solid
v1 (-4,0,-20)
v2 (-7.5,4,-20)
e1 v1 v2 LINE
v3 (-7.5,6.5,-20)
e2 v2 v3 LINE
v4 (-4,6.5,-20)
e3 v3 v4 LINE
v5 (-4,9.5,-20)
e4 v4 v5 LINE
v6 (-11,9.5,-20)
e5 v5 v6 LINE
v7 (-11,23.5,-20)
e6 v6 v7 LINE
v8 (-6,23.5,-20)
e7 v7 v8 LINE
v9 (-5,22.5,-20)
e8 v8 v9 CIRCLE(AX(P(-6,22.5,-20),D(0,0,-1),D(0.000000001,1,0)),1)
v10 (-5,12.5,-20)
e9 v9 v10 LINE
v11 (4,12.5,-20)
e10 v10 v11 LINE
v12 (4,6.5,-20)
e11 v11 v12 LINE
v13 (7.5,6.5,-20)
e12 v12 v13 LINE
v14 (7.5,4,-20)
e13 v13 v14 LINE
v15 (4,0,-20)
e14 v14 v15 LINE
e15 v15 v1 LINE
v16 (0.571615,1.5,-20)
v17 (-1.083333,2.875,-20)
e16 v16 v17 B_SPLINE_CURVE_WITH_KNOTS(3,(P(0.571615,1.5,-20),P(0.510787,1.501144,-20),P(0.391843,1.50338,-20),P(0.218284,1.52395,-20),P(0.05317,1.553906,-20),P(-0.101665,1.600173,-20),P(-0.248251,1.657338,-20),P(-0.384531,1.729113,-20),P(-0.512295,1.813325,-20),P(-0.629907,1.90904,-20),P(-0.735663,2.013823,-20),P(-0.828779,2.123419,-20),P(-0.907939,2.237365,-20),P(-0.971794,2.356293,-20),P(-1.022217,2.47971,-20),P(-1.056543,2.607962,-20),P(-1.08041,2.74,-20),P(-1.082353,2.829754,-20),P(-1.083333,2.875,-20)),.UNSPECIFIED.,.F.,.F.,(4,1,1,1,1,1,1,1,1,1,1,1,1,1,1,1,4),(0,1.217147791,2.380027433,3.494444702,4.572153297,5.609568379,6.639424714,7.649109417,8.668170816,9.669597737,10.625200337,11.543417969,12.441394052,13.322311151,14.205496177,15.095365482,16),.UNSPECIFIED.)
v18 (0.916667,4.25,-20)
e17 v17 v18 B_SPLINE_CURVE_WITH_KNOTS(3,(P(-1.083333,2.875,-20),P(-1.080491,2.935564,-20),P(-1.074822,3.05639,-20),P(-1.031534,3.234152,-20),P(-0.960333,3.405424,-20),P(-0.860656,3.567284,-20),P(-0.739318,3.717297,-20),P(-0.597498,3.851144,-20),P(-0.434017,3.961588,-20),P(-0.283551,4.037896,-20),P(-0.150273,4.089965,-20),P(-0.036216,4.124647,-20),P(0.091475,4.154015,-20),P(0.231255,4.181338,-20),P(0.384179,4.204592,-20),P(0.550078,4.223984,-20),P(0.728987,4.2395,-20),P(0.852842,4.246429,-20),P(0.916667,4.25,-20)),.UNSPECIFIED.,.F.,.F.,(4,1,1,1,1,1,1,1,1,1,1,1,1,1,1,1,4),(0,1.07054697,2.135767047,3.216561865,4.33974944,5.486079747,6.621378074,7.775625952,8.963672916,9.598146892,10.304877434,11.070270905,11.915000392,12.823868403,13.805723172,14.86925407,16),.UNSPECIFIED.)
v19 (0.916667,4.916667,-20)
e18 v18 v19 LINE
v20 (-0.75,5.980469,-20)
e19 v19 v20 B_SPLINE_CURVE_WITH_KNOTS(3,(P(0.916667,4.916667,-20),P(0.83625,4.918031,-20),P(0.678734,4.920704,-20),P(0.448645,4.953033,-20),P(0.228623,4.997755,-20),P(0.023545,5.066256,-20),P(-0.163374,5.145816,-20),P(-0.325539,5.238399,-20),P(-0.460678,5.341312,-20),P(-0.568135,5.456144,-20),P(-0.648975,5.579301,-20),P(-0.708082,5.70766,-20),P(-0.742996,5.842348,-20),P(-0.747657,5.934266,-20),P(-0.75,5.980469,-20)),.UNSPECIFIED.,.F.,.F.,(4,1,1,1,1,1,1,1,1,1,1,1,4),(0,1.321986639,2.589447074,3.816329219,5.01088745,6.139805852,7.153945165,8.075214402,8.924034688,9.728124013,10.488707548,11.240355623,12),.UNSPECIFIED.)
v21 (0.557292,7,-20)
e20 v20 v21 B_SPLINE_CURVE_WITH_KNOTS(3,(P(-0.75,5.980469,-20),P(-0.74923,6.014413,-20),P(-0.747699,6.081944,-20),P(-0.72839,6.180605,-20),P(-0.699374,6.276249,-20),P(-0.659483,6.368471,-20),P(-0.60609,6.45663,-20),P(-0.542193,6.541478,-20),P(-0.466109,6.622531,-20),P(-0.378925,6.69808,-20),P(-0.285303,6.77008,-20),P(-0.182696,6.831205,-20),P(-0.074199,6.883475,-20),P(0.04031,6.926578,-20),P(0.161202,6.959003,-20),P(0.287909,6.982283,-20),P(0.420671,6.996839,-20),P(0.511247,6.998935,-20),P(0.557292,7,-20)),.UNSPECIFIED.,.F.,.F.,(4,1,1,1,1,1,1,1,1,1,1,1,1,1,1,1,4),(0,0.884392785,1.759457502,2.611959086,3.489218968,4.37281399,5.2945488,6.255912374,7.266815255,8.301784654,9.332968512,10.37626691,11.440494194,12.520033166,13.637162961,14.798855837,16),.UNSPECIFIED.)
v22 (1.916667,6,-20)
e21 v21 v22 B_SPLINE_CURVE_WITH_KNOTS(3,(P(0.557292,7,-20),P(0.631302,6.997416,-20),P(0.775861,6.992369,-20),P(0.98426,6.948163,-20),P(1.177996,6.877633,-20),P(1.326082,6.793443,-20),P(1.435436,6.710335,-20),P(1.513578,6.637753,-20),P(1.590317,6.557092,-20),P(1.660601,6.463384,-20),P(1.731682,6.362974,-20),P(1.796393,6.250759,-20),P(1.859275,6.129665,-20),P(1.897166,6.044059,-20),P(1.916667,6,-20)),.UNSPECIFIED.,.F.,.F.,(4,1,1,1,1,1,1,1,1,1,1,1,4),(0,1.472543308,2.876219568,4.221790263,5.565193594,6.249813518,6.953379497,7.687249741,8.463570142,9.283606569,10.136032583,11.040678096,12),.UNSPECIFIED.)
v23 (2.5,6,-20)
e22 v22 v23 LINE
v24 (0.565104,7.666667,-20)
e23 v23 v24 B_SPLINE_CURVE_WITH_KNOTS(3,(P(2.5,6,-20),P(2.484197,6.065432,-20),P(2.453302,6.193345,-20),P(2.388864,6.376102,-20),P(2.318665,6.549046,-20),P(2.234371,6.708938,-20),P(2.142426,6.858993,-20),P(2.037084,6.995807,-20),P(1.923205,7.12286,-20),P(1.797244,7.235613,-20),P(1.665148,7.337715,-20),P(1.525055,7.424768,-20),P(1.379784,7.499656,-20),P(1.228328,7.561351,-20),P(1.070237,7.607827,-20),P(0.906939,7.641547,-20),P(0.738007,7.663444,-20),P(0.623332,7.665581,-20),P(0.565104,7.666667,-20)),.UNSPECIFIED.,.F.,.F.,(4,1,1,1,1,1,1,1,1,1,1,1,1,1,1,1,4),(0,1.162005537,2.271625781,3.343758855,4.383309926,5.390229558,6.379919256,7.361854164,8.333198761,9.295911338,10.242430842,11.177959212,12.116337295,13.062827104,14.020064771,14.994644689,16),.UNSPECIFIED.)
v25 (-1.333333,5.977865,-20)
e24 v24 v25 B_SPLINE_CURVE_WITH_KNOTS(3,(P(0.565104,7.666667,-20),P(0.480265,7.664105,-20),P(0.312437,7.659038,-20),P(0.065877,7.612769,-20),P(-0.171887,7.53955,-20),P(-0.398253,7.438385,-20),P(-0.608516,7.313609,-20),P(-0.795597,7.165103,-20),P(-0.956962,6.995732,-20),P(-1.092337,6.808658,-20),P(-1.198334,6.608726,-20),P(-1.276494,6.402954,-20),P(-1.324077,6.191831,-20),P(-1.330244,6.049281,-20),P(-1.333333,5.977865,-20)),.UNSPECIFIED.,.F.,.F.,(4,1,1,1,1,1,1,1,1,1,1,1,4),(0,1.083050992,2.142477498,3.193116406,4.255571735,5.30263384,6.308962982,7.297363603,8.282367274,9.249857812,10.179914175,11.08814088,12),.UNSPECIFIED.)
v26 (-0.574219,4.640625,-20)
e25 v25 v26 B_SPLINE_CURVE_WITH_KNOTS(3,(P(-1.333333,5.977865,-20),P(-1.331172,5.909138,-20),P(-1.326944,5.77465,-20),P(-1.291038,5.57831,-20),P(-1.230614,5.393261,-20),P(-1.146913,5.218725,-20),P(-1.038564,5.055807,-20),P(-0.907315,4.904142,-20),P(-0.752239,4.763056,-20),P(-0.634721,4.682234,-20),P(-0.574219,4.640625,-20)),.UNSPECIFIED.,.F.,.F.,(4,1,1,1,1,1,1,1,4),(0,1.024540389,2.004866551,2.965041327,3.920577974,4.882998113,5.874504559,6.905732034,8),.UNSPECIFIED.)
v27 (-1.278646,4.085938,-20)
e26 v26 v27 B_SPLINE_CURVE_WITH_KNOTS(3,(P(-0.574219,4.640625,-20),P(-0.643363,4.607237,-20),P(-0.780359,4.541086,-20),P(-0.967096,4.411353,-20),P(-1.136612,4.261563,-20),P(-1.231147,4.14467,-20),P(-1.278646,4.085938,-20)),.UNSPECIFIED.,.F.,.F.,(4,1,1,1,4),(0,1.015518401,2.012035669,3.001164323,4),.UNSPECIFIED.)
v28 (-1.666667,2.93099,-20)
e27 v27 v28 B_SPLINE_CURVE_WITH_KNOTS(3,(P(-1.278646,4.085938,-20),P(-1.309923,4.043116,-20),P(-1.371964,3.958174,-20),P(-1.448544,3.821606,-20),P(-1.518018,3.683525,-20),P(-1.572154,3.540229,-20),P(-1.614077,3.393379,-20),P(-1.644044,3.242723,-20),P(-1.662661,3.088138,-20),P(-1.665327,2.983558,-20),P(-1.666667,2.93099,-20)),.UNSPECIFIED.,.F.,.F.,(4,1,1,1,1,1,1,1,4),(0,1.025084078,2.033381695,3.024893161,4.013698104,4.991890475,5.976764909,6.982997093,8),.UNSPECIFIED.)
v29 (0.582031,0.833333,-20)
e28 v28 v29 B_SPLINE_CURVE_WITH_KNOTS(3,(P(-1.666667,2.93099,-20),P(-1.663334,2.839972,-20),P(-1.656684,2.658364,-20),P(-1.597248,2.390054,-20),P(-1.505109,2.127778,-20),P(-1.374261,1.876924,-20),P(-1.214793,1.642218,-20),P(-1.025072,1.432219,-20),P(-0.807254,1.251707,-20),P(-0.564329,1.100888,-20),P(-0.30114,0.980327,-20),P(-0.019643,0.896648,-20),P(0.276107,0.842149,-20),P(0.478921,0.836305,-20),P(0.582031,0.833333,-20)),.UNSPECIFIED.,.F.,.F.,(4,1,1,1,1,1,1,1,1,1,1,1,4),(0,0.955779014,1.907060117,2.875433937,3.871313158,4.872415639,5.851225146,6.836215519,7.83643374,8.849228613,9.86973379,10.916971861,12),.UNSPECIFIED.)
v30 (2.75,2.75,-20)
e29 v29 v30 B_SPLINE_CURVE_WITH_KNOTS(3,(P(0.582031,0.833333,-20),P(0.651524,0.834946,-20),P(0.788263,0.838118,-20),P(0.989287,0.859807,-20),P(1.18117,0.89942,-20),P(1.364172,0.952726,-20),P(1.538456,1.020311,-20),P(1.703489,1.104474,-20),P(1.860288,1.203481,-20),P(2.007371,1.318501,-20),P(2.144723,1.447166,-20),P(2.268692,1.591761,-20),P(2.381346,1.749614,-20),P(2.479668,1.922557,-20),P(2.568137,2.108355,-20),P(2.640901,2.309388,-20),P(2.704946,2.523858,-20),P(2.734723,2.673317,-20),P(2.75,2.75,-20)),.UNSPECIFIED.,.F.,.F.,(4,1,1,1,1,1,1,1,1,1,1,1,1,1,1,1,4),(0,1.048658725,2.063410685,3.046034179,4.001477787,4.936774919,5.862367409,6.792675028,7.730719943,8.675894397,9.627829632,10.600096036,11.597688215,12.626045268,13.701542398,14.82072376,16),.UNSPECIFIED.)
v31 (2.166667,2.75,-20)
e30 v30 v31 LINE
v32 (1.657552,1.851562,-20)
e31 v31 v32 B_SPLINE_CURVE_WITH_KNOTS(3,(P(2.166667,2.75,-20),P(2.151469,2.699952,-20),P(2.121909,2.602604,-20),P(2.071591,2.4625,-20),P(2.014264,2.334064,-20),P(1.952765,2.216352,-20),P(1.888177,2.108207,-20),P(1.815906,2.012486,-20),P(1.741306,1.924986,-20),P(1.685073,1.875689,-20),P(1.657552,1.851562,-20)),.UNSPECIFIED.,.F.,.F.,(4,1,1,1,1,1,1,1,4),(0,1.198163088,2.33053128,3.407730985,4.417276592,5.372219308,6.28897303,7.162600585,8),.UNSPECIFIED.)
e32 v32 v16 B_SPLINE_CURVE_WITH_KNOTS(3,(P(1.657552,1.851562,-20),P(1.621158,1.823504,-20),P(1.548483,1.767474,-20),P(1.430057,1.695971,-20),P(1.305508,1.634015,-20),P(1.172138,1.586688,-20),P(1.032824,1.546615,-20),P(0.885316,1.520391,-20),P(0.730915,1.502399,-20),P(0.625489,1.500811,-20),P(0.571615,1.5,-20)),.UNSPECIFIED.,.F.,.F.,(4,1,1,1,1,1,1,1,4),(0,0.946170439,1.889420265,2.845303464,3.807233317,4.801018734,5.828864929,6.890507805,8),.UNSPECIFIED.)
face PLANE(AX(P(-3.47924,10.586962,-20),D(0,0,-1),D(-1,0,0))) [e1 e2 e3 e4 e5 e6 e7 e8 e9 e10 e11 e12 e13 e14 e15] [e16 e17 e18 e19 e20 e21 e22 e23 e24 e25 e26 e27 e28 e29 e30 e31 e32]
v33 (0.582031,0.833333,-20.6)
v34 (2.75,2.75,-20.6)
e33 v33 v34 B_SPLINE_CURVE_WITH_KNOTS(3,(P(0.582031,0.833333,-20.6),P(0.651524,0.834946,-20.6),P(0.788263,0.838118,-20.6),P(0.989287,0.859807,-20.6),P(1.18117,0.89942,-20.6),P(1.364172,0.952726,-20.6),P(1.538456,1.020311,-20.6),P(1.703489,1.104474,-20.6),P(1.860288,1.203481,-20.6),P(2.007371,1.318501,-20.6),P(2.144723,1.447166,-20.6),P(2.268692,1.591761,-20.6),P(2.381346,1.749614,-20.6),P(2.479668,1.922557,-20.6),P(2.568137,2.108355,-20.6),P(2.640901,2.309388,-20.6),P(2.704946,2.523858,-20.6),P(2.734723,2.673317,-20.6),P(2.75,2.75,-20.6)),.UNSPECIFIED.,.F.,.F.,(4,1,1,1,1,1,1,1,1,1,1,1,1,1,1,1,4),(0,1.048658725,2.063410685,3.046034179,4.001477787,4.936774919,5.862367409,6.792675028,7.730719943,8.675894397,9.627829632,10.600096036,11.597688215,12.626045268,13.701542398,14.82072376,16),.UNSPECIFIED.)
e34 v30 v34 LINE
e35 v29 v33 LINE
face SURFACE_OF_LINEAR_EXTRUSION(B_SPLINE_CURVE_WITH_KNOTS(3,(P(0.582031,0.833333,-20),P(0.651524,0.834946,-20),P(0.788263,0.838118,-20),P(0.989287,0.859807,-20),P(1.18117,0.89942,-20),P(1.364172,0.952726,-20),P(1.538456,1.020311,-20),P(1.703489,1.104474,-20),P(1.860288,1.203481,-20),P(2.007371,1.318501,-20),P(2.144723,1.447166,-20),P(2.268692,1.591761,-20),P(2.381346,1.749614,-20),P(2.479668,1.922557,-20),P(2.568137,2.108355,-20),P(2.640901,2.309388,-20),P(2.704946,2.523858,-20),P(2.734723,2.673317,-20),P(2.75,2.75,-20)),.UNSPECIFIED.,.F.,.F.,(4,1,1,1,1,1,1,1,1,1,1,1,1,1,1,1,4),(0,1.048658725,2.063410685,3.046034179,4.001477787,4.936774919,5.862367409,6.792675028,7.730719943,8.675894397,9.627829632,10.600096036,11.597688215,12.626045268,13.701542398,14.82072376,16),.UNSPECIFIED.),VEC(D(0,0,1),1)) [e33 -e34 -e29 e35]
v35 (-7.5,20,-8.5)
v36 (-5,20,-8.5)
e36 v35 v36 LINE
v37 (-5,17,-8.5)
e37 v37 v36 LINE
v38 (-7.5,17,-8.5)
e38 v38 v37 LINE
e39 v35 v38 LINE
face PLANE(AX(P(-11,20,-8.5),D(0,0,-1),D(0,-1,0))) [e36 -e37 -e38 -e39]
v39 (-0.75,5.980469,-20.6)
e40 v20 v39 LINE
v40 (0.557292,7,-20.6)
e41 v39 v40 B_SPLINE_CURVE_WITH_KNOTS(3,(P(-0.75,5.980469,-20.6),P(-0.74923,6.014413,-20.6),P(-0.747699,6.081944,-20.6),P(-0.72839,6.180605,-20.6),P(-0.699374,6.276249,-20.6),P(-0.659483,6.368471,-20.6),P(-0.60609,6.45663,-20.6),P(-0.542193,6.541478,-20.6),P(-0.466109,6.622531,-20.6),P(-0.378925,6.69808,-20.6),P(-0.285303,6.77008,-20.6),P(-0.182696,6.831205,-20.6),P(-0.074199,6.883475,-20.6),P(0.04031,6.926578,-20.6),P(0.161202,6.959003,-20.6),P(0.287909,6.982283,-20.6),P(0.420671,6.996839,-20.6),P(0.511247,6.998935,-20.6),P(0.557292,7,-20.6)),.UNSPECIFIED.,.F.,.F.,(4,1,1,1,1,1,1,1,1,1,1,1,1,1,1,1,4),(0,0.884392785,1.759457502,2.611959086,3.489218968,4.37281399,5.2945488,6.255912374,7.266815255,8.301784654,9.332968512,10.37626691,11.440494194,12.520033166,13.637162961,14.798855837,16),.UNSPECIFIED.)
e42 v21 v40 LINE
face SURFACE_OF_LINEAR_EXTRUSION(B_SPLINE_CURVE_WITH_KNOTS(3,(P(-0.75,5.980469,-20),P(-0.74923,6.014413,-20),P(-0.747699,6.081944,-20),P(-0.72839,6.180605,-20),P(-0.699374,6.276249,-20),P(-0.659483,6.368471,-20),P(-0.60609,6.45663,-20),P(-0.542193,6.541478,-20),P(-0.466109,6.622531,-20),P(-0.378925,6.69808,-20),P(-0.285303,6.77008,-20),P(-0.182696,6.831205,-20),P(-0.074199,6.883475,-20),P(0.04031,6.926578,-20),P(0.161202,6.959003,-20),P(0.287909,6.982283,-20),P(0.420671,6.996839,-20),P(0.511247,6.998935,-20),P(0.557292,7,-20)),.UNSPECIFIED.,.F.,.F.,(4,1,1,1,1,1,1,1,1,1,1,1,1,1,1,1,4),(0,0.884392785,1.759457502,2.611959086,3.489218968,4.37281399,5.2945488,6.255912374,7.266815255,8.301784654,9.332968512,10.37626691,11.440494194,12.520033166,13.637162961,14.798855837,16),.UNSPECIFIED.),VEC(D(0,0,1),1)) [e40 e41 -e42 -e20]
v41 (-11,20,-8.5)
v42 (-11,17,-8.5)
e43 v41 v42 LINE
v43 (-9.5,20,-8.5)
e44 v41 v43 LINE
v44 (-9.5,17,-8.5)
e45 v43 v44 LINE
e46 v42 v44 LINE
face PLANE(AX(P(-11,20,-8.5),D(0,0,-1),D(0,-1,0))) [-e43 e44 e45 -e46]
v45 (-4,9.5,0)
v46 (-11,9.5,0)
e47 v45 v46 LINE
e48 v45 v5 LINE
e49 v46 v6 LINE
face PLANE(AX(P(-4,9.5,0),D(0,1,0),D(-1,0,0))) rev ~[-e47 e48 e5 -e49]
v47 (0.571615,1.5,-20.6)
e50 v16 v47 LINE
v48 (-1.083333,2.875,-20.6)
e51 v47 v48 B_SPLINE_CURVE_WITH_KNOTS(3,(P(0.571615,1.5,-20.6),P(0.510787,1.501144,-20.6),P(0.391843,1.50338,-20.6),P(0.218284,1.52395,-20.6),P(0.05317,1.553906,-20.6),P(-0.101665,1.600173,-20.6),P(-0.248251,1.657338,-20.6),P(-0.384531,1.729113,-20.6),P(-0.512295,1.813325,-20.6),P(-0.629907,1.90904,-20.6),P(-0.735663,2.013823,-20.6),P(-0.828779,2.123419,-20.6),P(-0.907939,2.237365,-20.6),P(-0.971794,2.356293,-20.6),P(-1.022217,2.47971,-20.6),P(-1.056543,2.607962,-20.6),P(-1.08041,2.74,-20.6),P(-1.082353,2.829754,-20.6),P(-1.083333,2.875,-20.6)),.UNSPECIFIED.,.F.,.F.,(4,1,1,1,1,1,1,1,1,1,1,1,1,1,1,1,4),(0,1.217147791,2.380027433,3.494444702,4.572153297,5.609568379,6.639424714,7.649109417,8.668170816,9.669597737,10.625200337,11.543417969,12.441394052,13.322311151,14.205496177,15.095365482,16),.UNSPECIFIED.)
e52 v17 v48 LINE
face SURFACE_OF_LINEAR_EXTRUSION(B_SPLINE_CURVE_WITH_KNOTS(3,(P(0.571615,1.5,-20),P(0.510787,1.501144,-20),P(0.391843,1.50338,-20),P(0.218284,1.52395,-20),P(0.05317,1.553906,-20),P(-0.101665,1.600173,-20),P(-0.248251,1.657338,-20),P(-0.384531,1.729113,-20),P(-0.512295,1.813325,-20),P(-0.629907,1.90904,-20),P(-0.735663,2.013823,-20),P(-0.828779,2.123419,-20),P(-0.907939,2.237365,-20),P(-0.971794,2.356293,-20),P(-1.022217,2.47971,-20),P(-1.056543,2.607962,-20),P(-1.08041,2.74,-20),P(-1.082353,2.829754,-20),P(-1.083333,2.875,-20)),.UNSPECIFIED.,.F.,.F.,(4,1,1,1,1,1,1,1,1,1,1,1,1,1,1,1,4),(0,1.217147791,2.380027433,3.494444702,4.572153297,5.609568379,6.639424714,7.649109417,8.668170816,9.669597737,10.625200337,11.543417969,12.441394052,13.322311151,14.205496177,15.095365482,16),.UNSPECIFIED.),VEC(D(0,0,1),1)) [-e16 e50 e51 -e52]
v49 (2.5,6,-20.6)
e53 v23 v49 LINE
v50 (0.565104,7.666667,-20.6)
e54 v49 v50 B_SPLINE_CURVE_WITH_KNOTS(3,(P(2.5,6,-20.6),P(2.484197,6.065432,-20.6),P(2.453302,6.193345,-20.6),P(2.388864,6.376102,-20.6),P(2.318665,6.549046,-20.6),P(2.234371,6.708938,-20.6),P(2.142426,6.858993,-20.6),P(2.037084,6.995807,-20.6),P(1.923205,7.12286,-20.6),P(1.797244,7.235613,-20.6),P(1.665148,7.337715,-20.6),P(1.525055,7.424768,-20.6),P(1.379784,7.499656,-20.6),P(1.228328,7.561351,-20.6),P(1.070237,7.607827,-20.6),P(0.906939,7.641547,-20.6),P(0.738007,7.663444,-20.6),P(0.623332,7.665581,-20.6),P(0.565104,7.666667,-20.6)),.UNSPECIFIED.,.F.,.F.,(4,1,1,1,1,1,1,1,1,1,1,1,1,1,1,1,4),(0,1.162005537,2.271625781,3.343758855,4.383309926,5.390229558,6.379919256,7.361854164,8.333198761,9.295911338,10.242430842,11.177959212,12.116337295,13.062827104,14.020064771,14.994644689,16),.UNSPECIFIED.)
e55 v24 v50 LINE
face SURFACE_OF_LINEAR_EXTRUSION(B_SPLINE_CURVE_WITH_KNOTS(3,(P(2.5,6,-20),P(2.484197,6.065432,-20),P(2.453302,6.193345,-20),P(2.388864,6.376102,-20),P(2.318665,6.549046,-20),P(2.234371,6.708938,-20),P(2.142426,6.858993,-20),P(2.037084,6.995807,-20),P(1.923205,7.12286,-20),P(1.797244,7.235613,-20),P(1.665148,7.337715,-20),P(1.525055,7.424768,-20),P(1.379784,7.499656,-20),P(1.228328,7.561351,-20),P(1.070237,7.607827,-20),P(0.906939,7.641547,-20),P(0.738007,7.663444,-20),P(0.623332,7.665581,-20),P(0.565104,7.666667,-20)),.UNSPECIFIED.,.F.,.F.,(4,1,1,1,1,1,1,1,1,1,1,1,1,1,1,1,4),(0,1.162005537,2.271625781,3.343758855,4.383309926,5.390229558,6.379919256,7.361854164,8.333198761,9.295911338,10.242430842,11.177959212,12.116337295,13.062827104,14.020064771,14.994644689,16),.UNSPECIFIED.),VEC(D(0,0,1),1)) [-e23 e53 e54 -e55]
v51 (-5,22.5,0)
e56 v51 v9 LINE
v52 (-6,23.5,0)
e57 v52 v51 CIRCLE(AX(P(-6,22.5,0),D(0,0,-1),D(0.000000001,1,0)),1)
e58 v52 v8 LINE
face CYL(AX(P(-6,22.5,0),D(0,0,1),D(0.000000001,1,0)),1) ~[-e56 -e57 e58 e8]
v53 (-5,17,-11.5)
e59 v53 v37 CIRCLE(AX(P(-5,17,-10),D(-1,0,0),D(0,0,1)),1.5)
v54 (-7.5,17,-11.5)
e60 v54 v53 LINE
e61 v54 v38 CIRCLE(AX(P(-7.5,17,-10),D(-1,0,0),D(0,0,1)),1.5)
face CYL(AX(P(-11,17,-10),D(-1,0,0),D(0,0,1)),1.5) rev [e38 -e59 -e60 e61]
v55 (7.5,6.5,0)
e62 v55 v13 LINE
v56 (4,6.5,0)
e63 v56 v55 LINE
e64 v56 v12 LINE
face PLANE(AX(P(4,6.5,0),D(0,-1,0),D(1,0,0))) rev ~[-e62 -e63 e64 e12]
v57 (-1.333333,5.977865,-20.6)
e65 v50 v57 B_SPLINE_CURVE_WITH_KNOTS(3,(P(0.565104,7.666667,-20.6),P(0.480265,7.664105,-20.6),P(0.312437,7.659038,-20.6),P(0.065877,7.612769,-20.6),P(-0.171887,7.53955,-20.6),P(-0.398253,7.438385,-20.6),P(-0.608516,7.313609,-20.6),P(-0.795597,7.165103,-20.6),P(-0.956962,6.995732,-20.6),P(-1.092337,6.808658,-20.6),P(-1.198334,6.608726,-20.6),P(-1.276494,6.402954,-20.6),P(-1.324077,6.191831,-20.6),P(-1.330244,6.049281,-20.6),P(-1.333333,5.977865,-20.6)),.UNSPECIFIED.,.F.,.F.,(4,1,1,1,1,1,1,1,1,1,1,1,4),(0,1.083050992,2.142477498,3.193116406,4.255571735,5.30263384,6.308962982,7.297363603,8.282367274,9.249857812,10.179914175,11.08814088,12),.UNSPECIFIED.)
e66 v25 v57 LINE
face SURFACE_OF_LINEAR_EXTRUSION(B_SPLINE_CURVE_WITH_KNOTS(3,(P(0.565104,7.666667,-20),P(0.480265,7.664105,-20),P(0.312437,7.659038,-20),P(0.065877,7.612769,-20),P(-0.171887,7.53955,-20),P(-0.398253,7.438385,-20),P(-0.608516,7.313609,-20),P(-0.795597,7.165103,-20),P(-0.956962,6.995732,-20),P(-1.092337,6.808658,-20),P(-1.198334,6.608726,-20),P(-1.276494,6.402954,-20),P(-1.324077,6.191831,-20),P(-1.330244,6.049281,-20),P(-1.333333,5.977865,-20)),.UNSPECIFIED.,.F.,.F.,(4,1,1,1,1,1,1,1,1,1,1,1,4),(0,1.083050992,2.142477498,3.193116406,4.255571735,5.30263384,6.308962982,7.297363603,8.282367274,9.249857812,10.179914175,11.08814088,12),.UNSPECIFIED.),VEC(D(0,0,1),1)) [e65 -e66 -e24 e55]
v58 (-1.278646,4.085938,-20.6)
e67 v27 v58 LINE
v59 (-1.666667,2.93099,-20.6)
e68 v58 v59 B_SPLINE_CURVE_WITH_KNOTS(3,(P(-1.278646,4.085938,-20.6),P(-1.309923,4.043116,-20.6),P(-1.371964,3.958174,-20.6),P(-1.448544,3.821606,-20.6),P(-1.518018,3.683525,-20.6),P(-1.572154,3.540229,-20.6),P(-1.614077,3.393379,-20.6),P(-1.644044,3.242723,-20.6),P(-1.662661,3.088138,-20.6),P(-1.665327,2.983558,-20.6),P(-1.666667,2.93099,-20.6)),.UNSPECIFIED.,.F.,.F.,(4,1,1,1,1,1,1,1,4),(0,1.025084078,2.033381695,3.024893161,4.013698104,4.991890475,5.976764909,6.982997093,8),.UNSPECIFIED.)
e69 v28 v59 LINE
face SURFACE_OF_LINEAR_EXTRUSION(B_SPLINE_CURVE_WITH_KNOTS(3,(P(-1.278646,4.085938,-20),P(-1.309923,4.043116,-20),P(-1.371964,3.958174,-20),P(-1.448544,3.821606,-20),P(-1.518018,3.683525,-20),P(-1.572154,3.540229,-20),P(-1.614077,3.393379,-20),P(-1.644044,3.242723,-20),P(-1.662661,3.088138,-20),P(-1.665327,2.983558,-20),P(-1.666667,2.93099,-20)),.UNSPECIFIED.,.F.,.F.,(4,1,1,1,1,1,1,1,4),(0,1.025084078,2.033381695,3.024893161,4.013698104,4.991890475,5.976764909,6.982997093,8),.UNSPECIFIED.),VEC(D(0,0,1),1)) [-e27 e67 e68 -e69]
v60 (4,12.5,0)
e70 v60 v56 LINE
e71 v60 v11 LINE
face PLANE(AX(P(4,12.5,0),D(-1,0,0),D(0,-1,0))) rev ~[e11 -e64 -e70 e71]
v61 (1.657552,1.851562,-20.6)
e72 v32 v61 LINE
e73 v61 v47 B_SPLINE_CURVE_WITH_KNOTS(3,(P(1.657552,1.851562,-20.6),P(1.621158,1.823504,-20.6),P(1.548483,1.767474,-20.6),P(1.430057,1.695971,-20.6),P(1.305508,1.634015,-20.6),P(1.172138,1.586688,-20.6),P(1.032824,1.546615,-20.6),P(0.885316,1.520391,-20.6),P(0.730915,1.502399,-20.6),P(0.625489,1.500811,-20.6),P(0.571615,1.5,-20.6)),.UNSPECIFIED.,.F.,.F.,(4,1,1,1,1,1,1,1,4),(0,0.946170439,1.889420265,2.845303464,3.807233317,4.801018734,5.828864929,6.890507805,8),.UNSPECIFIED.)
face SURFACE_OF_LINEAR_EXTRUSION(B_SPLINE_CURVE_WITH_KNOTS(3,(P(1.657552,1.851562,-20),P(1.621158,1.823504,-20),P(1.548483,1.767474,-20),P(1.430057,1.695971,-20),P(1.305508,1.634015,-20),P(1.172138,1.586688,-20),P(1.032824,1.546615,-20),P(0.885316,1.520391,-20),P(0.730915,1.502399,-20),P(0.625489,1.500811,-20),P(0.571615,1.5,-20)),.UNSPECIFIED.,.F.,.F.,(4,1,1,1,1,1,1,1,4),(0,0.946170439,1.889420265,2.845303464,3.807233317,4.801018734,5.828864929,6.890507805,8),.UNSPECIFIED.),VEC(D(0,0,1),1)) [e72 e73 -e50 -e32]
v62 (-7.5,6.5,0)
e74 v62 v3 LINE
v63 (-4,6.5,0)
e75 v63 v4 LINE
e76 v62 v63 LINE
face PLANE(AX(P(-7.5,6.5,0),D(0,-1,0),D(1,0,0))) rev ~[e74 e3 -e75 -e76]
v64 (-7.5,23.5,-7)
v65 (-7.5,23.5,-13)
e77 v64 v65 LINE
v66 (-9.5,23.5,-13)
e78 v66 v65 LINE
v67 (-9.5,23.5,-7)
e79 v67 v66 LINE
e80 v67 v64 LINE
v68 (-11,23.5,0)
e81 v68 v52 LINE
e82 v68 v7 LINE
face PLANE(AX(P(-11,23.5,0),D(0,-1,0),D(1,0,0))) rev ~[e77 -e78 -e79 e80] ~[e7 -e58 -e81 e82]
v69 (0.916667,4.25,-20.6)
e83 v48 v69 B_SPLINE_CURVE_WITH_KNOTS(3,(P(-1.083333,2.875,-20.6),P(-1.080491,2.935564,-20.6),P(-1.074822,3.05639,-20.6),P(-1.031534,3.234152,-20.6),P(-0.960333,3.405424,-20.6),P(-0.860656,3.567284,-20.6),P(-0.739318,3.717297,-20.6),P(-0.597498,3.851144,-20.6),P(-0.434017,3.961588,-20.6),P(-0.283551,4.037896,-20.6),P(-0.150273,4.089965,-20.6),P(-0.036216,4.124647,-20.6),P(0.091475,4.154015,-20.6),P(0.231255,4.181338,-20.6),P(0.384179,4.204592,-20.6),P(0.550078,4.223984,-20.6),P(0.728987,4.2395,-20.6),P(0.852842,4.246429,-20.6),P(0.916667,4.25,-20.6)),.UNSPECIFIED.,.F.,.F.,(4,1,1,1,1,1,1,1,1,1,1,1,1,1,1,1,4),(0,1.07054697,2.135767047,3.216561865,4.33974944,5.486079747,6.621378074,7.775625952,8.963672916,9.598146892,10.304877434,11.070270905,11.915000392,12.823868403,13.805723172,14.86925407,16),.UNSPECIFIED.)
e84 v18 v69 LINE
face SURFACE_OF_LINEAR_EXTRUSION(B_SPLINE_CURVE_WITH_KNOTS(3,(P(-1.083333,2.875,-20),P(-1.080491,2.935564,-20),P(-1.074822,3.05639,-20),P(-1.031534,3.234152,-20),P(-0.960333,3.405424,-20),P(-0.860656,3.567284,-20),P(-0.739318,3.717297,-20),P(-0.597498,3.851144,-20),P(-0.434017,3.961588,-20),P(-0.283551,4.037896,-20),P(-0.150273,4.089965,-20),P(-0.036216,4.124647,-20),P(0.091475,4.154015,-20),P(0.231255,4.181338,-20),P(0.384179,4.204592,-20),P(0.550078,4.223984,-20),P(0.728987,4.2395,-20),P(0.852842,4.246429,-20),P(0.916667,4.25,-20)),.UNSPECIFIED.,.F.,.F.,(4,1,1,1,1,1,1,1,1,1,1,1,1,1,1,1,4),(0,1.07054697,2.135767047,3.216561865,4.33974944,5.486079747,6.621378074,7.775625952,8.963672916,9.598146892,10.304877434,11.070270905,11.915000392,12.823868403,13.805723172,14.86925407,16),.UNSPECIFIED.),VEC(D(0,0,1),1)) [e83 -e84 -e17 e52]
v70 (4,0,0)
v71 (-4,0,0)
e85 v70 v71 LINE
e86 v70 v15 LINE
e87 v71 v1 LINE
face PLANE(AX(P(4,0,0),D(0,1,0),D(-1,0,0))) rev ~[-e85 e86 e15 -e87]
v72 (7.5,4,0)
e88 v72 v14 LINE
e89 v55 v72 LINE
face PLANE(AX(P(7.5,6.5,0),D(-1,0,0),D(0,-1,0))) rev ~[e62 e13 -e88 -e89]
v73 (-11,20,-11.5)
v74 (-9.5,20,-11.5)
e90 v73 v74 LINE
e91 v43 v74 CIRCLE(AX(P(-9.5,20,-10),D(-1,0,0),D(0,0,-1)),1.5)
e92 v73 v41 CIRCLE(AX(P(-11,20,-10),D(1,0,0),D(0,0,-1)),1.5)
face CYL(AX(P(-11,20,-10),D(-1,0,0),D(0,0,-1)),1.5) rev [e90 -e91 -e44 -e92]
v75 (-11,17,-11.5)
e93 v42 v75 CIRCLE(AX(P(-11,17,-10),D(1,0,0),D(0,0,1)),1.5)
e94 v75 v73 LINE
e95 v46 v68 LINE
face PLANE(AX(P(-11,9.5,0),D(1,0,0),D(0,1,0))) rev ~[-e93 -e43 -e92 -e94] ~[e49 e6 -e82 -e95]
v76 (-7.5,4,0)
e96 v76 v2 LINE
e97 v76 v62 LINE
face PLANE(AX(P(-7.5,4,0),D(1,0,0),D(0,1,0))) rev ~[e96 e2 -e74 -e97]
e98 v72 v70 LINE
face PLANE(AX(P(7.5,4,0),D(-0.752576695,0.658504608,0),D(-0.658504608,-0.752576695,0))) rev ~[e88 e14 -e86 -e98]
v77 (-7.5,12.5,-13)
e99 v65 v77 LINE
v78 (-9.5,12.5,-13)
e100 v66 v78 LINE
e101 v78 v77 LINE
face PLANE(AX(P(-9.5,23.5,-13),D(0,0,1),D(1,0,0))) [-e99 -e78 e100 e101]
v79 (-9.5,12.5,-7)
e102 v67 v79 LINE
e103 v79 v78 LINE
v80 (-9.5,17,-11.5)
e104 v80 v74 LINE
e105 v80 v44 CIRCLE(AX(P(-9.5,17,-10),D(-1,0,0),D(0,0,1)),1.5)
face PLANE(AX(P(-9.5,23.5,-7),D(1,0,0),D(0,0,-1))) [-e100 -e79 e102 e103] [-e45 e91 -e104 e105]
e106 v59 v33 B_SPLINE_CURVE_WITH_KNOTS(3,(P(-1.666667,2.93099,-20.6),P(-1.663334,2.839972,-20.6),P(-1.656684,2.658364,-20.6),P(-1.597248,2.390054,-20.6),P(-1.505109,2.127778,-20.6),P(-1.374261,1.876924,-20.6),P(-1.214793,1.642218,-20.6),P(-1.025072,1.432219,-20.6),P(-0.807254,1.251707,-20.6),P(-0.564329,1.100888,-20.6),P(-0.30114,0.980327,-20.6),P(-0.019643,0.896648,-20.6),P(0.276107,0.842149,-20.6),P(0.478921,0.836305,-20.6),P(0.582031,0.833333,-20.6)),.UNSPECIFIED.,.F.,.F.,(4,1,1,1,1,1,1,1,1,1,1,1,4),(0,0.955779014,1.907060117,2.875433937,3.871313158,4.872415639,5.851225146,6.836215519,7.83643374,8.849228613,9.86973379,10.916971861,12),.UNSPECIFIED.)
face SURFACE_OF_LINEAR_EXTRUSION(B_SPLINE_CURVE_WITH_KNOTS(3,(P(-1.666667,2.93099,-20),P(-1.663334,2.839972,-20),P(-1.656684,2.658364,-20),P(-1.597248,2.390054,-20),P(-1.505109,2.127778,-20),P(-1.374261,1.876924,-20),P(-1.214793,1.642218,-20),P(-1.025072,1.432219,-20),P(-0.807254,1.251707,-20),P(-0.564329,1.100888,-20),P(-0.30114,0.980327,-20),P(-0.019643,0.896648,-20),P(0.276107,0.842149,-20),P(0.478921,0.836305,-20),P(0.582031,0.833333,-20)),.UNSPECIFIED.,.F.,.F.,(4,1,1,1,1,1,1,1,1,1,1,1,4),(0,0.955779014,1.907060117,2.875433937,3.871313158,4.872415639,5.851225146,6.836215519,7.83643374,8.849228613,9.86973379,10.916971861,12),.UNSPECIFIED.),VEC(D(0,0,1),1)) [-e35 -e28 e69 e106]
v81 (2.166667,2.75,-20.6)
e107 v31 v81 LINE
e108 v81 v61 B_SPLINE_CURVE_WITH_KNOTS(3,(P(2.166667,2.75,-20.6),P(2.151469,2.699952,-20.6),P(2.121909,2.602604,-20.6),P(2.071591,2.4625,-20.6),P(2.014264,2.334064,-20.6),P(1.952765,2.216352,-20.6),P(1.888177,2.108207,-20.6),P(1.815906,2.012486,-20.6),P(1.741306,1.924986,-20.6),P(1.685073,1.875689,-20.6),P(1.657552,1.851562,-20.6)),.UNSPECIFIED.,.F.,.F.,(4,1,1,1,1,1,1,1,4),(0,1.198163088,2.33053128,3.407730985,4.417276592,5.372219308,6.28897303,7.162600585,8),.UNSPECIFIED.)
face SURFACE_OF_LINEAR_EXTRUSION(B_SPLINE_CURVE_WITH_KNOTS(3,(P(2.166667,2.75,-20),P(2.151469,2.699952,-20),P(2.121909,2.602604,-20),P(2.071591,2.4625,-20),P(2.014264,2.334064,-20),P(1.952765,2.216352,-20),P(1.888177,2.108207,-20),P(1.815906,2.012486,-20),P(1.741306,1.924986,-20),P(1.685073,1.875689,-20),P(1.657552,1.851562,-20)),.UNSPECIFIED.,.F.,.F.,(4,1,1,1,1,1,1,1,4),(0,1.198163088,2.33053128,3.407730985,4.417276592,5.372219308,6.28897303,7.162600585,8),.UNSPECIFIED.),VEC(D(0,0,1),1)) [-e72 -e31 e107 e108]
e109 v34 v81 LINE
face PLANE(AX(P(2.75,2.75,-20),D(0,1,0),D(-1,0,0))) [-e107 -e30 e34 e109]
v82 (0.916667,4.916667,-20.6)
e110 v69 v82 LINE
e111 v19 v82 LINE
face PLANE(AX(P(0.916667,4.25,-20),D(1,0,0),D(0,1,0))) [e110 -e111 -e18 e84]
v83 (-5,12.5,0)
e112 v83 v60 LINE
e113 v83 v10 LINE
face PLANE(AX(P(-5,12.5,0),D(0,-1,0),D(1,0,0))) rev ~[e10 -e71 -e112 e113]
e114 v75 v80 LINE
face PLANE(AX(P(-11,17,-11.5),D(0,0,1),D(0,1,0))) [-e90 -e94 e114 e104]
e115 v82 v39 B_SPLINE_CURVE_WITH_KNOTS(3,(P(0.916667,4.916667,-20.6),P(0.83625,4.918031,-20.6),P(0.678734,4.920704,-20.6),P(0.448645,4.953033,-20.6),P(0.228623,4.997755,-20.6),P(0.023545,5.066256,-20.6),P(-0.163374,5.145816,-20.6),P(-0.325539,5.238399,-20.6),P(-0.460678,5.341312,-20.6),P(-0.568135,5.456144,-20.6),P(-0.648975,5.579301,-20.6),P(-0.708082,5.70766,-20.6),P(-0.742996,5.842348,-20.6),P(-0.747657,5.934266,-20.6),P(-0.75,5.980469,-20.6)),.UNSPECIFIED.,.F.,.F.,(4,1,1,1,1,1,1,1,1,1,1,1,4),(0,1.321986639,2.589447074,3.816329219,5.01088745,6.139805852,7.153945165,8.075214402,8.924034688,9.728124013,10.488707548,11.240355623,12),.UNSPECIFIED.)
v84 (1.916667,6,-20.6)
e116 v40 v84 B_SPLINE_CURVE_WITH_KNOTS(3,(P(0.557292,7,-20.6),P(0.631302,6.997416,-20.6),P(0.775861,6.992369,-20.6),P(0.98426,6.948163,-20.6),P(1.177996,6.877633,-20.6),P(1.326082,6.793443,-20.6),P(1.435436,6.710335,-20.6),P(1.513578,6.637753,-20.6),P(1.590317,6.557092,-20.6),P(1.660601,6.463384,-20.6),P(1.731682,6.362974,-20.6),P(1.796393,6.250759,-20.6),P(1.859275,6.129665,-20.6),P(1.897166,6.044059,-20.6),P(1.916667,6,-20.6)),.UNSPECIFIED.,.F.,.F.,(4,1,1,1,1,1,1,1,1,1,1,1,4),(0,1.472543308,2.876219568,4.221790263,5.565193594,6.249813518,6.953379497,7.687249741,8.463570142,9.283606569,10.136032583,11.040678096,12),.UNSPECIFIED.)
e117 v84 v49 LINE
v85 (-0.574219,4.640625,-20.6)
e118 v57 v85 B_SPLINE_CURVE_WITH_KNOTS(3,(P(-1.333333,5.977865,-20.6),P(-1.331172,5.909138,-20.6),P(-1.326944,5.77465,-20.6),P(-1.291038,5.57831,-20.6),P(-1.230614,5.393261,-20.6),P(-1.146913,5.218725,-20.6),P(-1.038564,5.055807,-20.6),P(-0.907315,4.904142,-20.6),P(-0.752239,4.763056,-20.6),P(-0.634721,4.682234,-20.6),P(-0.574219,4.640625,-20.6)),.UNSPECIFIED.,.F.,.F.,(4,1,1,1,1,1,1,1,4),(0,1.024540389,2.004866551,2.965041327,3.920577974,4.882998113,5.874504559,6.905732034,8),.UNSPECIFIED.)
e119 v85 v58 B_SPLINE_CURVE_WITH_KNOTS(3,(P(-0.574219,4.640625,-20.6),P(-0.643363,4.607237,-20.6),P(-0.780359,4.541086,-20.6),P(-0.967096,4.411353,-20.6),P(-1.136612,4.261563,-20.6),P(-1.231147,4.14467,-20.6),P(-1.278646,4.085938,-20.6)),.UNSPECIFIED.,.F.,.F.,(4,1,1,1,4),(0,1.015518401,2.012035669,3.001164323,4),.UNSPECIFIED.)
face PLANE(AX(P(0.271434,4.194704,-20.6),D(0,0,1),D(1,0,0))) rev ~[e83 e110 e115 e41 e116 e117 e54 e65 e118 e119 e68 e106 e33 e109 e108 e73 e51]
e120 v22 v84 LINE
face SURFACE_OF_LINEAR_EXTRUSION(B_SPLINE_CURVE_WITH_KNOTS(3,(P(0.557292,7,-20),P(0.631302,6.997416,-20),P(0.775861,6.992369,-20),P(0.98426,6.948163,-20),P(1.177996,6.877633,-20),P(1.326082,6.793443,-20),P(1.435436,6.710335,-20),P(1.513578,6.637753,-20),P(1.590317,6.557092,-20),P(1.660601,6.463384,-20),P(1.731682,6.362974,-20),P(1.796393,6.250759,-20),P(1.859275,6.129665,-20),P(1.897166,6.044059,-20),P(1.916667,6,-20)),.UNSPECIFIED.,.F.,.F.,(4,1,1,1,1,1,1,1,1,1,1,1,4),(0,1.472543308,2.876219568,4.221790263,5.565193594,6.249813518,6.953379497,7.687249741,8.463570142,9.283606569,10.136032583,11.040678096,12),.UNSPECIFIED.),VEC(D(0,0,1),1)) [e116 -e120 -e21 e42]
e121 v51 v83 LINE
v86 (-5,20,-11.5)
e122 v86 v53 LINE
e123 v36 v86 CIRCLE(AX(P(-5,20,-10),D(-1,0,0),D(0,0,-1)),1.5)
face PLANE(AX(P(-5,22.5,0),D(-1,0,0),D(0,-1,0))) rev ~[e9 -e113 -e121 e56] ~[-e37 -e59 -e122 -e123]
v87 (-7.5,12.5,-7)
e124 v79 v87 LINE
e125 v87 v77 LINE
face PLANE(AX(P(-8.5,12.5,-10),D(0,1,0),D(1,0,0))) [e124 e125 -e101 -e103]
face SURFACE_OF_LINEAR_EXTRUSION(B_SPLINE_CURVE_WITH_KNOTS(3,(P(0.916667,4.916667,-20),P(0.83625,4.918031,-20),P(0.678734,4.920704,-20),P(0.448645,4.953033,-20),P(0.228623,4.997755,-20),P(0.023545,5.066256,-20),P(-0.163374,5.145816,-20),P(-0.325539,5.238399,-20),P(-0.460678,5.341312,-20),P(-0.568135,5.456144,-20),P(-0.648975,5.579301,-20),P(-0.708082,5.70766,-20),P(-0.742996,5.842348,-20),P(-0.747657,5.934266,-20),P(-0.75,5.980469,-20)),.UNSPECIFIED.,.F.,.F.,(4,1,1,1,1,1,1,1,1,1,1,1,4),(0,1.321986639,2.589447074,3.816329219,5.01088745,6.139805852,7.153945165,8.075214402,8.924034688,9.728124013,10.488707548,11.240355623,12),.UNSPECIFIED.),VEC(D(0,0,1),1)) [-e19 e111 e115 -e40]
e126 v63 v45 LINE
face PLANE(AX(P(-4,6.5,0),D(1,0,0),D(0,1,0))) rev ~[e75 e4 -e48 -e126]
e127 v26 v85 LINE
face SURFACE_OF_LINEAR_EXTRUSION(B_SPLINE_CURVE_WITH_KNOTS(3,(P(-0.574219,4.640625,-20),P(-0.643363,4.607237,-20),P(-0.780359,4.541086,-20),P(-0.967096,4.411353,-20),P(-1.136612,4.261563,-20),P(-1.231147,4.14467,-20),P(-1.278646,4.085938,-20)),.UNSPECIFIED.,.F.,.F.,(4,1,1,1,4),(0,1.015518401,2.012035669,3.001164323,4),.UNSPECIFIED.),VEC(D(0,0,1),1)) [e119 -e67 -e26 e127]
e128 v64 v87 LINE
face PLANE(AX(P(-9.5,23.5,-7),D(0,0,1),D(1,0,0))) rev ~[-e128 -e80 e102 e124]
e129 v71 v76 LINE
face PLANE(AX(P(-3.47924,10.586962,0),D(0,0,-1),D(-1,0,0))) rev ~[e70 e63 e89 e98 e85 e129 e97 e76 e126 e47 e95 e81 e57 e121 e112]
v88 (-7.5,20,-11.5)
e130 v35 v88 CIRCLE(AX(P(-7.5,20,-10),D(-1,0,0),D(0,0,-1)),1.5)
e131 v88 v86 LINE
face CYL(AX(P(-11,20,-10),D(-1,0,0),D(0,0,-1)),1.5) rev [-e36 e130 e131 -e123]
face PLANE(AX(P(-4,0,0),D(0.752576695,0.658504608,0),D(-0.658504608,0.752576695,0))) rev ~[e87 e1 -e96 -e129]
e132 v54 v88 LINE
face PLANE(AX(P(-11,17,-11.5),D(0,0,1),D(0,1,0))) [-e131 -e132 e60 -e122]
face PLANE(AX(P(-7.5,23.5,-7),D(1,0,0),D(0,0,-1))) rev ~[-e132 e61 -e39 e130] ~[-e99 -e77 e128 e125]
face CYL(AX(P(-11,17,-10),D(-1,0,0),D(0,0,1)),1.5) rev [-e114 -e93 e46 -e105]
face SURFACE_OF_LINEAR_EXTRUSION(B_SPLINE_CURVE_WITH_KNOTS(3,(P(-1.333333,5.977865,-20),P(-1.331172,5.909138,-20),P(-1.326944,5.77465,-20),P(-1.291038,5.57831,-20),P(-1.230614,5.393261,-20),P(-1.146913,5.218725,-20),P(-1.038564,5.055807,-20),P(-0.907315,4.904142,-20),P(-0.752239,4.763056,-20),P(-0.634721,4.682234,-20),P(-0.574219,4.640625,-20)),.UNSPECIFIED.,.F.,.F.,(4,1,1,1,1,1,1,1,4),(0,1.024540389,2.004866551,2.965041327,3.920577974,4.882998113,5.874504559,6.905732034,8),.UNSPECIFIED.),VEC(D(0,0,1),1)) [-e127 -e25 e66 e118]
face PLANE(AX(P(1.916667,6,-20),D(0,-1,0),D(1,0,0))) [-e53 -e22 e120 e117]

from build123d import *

# Parameters (mm, degrees)
ESTRUSIONE_ESTRUSIONE1_DEPTH = 20
TAGLIO_ESTRUSIONE1_REACH     = 37.979
ESTRUSIONE_ESTRUSIONE4_DEPTH = 0.6
SCHIZZO12_W                  = 2
SCHIZZO12_H                  = 6
TAGLIO_ESTRUSIONE2_DEPTH     = 11


with BuildPart() as part:
    # Schizzo2 → Estrusione-Estrusione1 (new body)
    with BuildSketch(Plane.XY):
        with BuildLine():
            Line((-4, 9.5), (-11, 9.5))
            Line((-11, 9.5), (-11, 23.5))
            Line((-11, 23.5), (-6, 23.5))
            ThreePointArc((-6, 23.5), (-5.292893219, 23.207106781), (-5, 22.5))
            Line((-5, 22.5), (-5, 12.5))
            Line((-5, 12.5), (4, 12.5))
            Line((4, 12.5), (4, 9.5))
            Line((4, 9.5), (4, 6.5))
            Line((4, 6.5), (7.5, 6.5))
            Line((7.5, 6.5), (7.5, 4))
            Line((7.5, 4), (4, 0))
            Line((4, 0), (-4, 0))
            Line((-4, 0), (-7.5, 4))
            Line((-7.5, 4), (-7.5, 6.5))
            Line((-7.5, 6.5), (-4, 6.5))
            Line((-4, 6.5), (-4, 9.5))
        make_face()
    extrude(amount=-ESTRUSIONE_ESTRUSIONE1_DEPTH)

    # Schizzo6 → Taglio-Estrusione1 (cut, up to next)
    with BuildSketch(Plane.ZY.offset(11), mode=Mode.PRIVATE) as taglio_estrusione1_sk1:
        with BuildLine():
            Line((-8.5, 20), (-8.5, 17))
            ThreePointArc((-8.5, 17), (-10, 15.5), (-11.5, 17))
            Line((-11.5, 17), (-11.5, 20))
            ThreePointArc((-11.5, 20), (-10, 21.5), (-8.5, 20))
        make_face()
    taglio_estrusione1_tool1 = extrude(taglio_estrusione1_sk1.sketch, amount=-TAGLIO_ESTRUSIONE1_REACH, mode=Mode.PRIVATE) & part.part
    add(taglio_estrusione1_tool1.solids().sort_by_distance((-11, 18.5, -10))[0], mode=Mode.SUBTRACT)

    # Schizzo11 → Estrusione-Estrusione4 (add)
    with BuildSketch(Plane(origin=(0, 0, -20), x_dir=(-1, 0, 0), z_dir=(0, 0, -1))):
        with BuildLine():
            Line((-1.916666667, 6), (-2.5, 6))
            add(Edge.make_bspline(
                [(-2.5, 6), (-2.484196549, 6.065431756), (-2.453302094, 6.193345487), (-2.388863743, 6.376101829), (-2.318665127, 6.549045511), (-2.234371075, 6.708938219), (-2.142426246, 6.858993324), (-2.037084049, 6.995807413), (-1.923204564, 7.122860063), (-1.797243944, 7.235613218), (-1.665147858, 7.337714716), (-1.525054993, 7.424768393), (-1.379783905, 7.499656106), (-1.228328086, 7.561350822), (-1.070236625, 7.607826795), (-0.906938753, 7.641546577), (-0.738006538, 7.66344436), (-0.623332441, 7.665581492), (-0.565104167, 7.666666667)],
                knots=[0, 0, 0, 0, 1.162005537, 2.271625781, 3.343758855, 4.383309926, 5.390229558, 6.379919256, 7.361854164, 8.333198761, 9.295911338, 10.242430842, 11.177959212, 12.116337295, 13.062827104, 14.020064771, 14.994644689, 16, 16, 16, 16], degree=3))
            add(Edge.make_bspline(
                [(-0.565104167, 7.666666667), (-0.480264789, 7.664105239), (-0.312436625, 7.659038256), (-0.065876681, 7.612768588), (0.171887412, 7.539550485), (0.398253158, 7.438384992), (0.608515961, 7.313608553), (0.795597451, 7.165102613), (0.956961828, 6.995732482), (1.092337101, 6.80865772), (1.198333527, 6.608726059), (1.276493935, 6.402954339), (1.324077057, 6.191830678), (1.330243806, 6.049281445), (1.333333333, 5.977864583)],
                knots=[0, 0, 0, 0, 1.083050992, 2.142477498, 3.193116406, 4.255571735, 5.30263384, 6.308962982, 7.297363603, 8.282367274, 9.249857812, 10.179914175, 11.08814088, 12, 12, 12, 12], degree=3))
            add(Edge.make_bspline(
                [(1.333333333, 5.977864583), (1.331172379, 5.909137679), (1.326943725, 5.774649792), (1.291038272, 5.578309869), (1.230613784, 5.393261183), (1.146912796, 5.218724739), (1.038564203, 5.055807179), (0.907314909, 4.904141953), (0.752238537, 4.763056374), (0.634720509, 4.682234495), (0.57421875, 4.640625)],
                knots=[0, 0, 0, 0, 1.024540389, 2.004866551, 2.965041327, 3.920577974, 4.882998113, 5.874504559, 6.905732034, 8, 8, 8, 8], degree=3))
            add(Edge.make_bspline(
                [(0.57421875, 4.640625), (0.643363437, 4.607236967), (0.780359061, 4.541085617), (0.967095758, 4.411353496), (1.136611813, 4.261563137), (1.231147291, 4.144669639), (1.278645833, 4.0859375)],
                knots=[0, 0, 0, 0, 1.015518401, 2.012035669, 3.001164323, 4, 4, 4, 4], degree=3))
            add(Edge.make_bspline(
                [(1.278645833, 4.0859375), (1.309922612, 4.043115961), (1.37196399, 3.958174116), (1.448544267, 3.821606468), (1.518018337, 3.683525131), (1.572154458, 3.540229091), (1.614077354, 3.393379209), (1.644044271, 3.24272333), (1.662660533, 3.088138431), (1.665326558, 2.983558111), (1.666666667, 2.930989583)],
                knots=[0, 0, 0, 0, 1.025084078, 2.033381695, 3.024893161, 4.013698104, 4.991890475, 5.976764909, 6.982997093, 8, 8, 8, 8], degree=3))
            add(Edge.make_bspline(
                [(1.666666667, 2.930989583), (1.663333999, 2.83997153), (1.656684346, 2.658363755), (1.597248208, 2.390053558), (1.505109333, 2.127777625), (1.374260737, 1.876924352), (1.214792507, 1.64221793), (1.025071762, 1.43221907), (0.807254146, 1.251707377), (0.56432937, 1.100888382), (0.301140417, 0.980326526), (0.019642889, 0.896648418), (-0.276107211, 0.842148704), (-0.478920764, 0.836304519), (-0.58203125, 0.833333333)],
                knots=[0, 0, 0, 0, 0.955779014, 1.907060117, 2.875433937, 3.871313158, 4.872415639, 5.851225146, 6.836215519, 7.83643374, 8.849228613, 9.86973379, 10.916971861, 12, 12, 12, 12], degree=3))
            add(Edge.make_bspline(
                [(-0.58203125, 0.833333333), (-0.651524236, 0.834945729), (-0.78826326, 0.838118387), (-0.9892869, 0.859807218), (-1.181170056, 0.899420085), (-1.364172166, 0.952726223), (-1.538455805, 1.020310887), (-1.703489143, 1.104474184), (-1.860287517, 1.203481259), (-2.007371283, 1.318500779), (-2.144722909, 1.447166124), (-2.268692254, 1.591761428), (-2.381346155, 1.74961375), (-2.479668199, 1.922556569), (-2.568136825, 2.108354904), (-2.640901459, 2.309387829), (-2.704946086, 2.523858156), (-2.73472252, 2.673316816), (-2.75, 2.75)],
                knots=[0, 0, 0, 0, 1.048658725, 2.063410685, 3.046034179, 4.001477787, 4.936774919, 5.862367409, 6.792675028, 7.730719943, 8.675894397, 9.627829632, 10.600096036, 11.597688215, 12.626045268, 13.701542398, 14.82072376, 16, 16, 16, 16], degree=3))
            Line((-2.75, 2.75), (-2.166666667, 2.75))
            add(Edge.make_bspline(
                [(-2.166666667, 2.75), (-2.151469125, 2.699951833), (-2.121908588, 2.602603799), (-2.071590606, 2.462500375), (-2.014263815, 2.33406399), (-1.952765349, 2.216352478), (-1.888176806, 2.108206588), (-1.815906231, 2.012485974), (-1.74130639, 1.924986312), (-1.685073305, 1.875689176), (-1.657552083, 1.8515625)],
                knots=[0, 0, 0, 0, 1.198163088, 2.33053128, 3.407730985, 4.417276592, 5.372219308, 6.28897303, 7.162600585, 8, 8, 8, 8], degree=3))
            add(Edge.make_bspline(
                [(-1.657552083, 1.8515625), (-1.621158441, 1.823504166), (-1.548483496, 1.767474107), (-1.430056781, 1.695971082), (-1.305507707, 1.634014892), (-1.172137598, 1.586688029), (-1.032824452, 1.54661523), (-0.885316488, 1.520391409), (-0.730915085, 1.502399091), (-0.625489239, 1.500811361), (-0.571614583, 1.5)],
                knots=[0, 0, 0, 0, 0.946170439, 1.889420265, 2.845303464, 3.807233317, 4.801018734, 5.828864929, 6.890507805, 8, 8, 8, 8], degree=3))
            add(Edge.make_bspline(
                [(-0.571614583, 1.5), (-0.51078665, 1.501143824), (-0.391842877, 1.503380473), (-0.218283853, 1.523949643), (-0.053170021, 1.553906125), (0.101665412, 1.600173093), (0.24825064, 1.657337532), (0.384530847, 1.729113142), (0.512295044, 1.813324768), (0.629906797, 1.909040348), (0.735662739, 2.013823125), (0.828778978, 2.123418828), (0.907939064, 2.237365369), (0.97179428, 2.356293307), (1.022216731, 2.479710161), (1.056542675, 2.607962273), (1.080409774, 2.740000053), (1.082353483, 2.829753852), (1.083333333, 2.875)],
                knots=[0, 0, 0, 0, 1.217147791, 2.380027433, 3.494444702, 4.572153297, 5.609568379, 6.639424714, 7.649109417, 8.668170816, 9.669597737, 10.625200337, 11.543417969, 12.441394052, 13.322311151, 14.205496177, 15.095365482, 16, 16, 16, 16], degree=3))
            add(Edge.make_bspline(
                [(1.083333333, 2.875), (1.080491345, 2.935563915), (1.074821509, 3.056390388), (1.031534147, 3.234151597), (0.960333399, 3.405423649), (0.860655878, 3.567284402), (0.739318097, 3.71729679), (0.597497555, 3.851143829), (0.43401656, 3.961588284), (0.283551089, 4.037895789), (0.150272941, 4.089964642), (0.036215798, 4.124646719), (-0.091475036, 4.154014937), (-0.231255399, 4.181337727), (-0.384178515, 4.204591659), (-0.5500779, 4.223983603), (-0.728987171, 4.239500107), (-0.852842194, 4.246429284), (-0.916666667, 4.25)],
                knots=[0, 0, 0, 0, 1.07054697, 2.135767047, 3.216561865, 4.33974944, 5.486079747, 6.621378074, 7.775625952, 8.963672916, 9.598146892, 10.304877434, 11.070270905, 11.915000392, 12.823868403, 13.805723172, 14.86925407, 16, 16, 16, 16], degree=3))
            Line((-0.916666667, 4.25), (-0.916666667, 4.916666667))
            add(Edge.make_bspline(
                [(-0.916666667, 4.916666667), (-0.836250216, 4.918031302), (-0.678734144, 4.920704288), (-0.448644721, 4.95303345), (-0.228622855, 4.997754616), (-0.02354462, 5.066255688), (0.163374419, 5.145816239), (0.325539394, 5.238398914), (0.460678382, 5.34131202), (0.568134658, 5.456144008), (0.648974654, 5.579300525), (0.708081563, 5.707660032), (0.742996455, 5.842347574), (0.747657265, 5.934266243), (0.75, 5.98046875)],
                knots=[0, 0, 0, 0, 1.321986639, 2.589447074, 3.816329219, 5.01088745, 6.139805852, 7.153945165, 8.075214402, 8.924034688, 9.728124013, 10.488707548, 11.240355623, 12, 12, 12, 12], degree=3))
            add(Edge.make_bspline(
                [(0.75, 5.98046875), (0.74923038, 6.014413134), (0.747699256, 6.081943876), (0.728390026, 6.180604717), (0.69937395, 6.276249331), (0.659483024, 6.368470979), (0.606089798, 6.456630059), (0.542192966, 6.541478178), (0.466109351, 6.622530911), (0.37892495, 6.698080076), (0.285303026, 6.770080088), (0.182696301, 6.831205413), (0.074198534, 6.883474814), (-0.040310397, 6.926578176), (-0.161202096, 6.959002568), (-0.28790856, 6.982283416), (-0.420671401, 6.996839061), (-0.511247475, 6.99893469), (-0.557291667, 7)],
                knots=[0, 0, 0, 0, 0.884392785, 1.759457502, 2.611959086, 3.489218968, 4.37281399, 5.2945488, 6.255912374, 7.266815255, 8.301784654, 9.332968512, 10.37626691, 11.440494194, 12.520033166, 13.637162961, 14.798855837, 16, 16, 16, 16], degree=3))
            add(Edge.make_bspline(
                [(-0.557291667, 7), (-0.631301907, 6.997416042), (-0.775861121, 6.992368971), (-0.984260252, 6.948163375), (-1.177996158, 6.877632648), (-1.326082253, 6.793442755), (-1.435435605, 6.710334806), (-1.51357849, 6.637753232), (-1.590316581, 6.557092273), (-1.660601409, 6.463383862), (-1.731681652, 6.362974109), (-1.79639298, 6.2507587), (-1.859275266, 6.129664825), (-1.897165715, 6.044058647), (-1.916666667, 6)],
                knots=[0, 0, 0, 0, 1.472543308, 2.876219568, 4.221790263, 5.565193594, 6.249813518, 6.953379497, 7.687249741, 8.463570142, 9.283606569, 10.136032583, 11.040678096, 12, 12, 12, 12], degree=3))
        make_face()
    extrude(amount=ESTRUSIONE_ESTRUSIONE4_DEPTH)

    # Schizzo12 → Taglio-Estrusione2 (cut)
    with BuildSketch(Plane(origin=(0, 23.5, 0), x_dir=(1, 0, 0), z_dir=(0, 1, 0))):
        with Locations((-8.5, 10)):
            Rectangle(SCHIZZO12_W, SCHIZZO12_H)
    extrude(amount=-TAGLIO_ESTRUSIONE2_DEPTH, mode=Mode.SUBTRACT)


solid = part.part
